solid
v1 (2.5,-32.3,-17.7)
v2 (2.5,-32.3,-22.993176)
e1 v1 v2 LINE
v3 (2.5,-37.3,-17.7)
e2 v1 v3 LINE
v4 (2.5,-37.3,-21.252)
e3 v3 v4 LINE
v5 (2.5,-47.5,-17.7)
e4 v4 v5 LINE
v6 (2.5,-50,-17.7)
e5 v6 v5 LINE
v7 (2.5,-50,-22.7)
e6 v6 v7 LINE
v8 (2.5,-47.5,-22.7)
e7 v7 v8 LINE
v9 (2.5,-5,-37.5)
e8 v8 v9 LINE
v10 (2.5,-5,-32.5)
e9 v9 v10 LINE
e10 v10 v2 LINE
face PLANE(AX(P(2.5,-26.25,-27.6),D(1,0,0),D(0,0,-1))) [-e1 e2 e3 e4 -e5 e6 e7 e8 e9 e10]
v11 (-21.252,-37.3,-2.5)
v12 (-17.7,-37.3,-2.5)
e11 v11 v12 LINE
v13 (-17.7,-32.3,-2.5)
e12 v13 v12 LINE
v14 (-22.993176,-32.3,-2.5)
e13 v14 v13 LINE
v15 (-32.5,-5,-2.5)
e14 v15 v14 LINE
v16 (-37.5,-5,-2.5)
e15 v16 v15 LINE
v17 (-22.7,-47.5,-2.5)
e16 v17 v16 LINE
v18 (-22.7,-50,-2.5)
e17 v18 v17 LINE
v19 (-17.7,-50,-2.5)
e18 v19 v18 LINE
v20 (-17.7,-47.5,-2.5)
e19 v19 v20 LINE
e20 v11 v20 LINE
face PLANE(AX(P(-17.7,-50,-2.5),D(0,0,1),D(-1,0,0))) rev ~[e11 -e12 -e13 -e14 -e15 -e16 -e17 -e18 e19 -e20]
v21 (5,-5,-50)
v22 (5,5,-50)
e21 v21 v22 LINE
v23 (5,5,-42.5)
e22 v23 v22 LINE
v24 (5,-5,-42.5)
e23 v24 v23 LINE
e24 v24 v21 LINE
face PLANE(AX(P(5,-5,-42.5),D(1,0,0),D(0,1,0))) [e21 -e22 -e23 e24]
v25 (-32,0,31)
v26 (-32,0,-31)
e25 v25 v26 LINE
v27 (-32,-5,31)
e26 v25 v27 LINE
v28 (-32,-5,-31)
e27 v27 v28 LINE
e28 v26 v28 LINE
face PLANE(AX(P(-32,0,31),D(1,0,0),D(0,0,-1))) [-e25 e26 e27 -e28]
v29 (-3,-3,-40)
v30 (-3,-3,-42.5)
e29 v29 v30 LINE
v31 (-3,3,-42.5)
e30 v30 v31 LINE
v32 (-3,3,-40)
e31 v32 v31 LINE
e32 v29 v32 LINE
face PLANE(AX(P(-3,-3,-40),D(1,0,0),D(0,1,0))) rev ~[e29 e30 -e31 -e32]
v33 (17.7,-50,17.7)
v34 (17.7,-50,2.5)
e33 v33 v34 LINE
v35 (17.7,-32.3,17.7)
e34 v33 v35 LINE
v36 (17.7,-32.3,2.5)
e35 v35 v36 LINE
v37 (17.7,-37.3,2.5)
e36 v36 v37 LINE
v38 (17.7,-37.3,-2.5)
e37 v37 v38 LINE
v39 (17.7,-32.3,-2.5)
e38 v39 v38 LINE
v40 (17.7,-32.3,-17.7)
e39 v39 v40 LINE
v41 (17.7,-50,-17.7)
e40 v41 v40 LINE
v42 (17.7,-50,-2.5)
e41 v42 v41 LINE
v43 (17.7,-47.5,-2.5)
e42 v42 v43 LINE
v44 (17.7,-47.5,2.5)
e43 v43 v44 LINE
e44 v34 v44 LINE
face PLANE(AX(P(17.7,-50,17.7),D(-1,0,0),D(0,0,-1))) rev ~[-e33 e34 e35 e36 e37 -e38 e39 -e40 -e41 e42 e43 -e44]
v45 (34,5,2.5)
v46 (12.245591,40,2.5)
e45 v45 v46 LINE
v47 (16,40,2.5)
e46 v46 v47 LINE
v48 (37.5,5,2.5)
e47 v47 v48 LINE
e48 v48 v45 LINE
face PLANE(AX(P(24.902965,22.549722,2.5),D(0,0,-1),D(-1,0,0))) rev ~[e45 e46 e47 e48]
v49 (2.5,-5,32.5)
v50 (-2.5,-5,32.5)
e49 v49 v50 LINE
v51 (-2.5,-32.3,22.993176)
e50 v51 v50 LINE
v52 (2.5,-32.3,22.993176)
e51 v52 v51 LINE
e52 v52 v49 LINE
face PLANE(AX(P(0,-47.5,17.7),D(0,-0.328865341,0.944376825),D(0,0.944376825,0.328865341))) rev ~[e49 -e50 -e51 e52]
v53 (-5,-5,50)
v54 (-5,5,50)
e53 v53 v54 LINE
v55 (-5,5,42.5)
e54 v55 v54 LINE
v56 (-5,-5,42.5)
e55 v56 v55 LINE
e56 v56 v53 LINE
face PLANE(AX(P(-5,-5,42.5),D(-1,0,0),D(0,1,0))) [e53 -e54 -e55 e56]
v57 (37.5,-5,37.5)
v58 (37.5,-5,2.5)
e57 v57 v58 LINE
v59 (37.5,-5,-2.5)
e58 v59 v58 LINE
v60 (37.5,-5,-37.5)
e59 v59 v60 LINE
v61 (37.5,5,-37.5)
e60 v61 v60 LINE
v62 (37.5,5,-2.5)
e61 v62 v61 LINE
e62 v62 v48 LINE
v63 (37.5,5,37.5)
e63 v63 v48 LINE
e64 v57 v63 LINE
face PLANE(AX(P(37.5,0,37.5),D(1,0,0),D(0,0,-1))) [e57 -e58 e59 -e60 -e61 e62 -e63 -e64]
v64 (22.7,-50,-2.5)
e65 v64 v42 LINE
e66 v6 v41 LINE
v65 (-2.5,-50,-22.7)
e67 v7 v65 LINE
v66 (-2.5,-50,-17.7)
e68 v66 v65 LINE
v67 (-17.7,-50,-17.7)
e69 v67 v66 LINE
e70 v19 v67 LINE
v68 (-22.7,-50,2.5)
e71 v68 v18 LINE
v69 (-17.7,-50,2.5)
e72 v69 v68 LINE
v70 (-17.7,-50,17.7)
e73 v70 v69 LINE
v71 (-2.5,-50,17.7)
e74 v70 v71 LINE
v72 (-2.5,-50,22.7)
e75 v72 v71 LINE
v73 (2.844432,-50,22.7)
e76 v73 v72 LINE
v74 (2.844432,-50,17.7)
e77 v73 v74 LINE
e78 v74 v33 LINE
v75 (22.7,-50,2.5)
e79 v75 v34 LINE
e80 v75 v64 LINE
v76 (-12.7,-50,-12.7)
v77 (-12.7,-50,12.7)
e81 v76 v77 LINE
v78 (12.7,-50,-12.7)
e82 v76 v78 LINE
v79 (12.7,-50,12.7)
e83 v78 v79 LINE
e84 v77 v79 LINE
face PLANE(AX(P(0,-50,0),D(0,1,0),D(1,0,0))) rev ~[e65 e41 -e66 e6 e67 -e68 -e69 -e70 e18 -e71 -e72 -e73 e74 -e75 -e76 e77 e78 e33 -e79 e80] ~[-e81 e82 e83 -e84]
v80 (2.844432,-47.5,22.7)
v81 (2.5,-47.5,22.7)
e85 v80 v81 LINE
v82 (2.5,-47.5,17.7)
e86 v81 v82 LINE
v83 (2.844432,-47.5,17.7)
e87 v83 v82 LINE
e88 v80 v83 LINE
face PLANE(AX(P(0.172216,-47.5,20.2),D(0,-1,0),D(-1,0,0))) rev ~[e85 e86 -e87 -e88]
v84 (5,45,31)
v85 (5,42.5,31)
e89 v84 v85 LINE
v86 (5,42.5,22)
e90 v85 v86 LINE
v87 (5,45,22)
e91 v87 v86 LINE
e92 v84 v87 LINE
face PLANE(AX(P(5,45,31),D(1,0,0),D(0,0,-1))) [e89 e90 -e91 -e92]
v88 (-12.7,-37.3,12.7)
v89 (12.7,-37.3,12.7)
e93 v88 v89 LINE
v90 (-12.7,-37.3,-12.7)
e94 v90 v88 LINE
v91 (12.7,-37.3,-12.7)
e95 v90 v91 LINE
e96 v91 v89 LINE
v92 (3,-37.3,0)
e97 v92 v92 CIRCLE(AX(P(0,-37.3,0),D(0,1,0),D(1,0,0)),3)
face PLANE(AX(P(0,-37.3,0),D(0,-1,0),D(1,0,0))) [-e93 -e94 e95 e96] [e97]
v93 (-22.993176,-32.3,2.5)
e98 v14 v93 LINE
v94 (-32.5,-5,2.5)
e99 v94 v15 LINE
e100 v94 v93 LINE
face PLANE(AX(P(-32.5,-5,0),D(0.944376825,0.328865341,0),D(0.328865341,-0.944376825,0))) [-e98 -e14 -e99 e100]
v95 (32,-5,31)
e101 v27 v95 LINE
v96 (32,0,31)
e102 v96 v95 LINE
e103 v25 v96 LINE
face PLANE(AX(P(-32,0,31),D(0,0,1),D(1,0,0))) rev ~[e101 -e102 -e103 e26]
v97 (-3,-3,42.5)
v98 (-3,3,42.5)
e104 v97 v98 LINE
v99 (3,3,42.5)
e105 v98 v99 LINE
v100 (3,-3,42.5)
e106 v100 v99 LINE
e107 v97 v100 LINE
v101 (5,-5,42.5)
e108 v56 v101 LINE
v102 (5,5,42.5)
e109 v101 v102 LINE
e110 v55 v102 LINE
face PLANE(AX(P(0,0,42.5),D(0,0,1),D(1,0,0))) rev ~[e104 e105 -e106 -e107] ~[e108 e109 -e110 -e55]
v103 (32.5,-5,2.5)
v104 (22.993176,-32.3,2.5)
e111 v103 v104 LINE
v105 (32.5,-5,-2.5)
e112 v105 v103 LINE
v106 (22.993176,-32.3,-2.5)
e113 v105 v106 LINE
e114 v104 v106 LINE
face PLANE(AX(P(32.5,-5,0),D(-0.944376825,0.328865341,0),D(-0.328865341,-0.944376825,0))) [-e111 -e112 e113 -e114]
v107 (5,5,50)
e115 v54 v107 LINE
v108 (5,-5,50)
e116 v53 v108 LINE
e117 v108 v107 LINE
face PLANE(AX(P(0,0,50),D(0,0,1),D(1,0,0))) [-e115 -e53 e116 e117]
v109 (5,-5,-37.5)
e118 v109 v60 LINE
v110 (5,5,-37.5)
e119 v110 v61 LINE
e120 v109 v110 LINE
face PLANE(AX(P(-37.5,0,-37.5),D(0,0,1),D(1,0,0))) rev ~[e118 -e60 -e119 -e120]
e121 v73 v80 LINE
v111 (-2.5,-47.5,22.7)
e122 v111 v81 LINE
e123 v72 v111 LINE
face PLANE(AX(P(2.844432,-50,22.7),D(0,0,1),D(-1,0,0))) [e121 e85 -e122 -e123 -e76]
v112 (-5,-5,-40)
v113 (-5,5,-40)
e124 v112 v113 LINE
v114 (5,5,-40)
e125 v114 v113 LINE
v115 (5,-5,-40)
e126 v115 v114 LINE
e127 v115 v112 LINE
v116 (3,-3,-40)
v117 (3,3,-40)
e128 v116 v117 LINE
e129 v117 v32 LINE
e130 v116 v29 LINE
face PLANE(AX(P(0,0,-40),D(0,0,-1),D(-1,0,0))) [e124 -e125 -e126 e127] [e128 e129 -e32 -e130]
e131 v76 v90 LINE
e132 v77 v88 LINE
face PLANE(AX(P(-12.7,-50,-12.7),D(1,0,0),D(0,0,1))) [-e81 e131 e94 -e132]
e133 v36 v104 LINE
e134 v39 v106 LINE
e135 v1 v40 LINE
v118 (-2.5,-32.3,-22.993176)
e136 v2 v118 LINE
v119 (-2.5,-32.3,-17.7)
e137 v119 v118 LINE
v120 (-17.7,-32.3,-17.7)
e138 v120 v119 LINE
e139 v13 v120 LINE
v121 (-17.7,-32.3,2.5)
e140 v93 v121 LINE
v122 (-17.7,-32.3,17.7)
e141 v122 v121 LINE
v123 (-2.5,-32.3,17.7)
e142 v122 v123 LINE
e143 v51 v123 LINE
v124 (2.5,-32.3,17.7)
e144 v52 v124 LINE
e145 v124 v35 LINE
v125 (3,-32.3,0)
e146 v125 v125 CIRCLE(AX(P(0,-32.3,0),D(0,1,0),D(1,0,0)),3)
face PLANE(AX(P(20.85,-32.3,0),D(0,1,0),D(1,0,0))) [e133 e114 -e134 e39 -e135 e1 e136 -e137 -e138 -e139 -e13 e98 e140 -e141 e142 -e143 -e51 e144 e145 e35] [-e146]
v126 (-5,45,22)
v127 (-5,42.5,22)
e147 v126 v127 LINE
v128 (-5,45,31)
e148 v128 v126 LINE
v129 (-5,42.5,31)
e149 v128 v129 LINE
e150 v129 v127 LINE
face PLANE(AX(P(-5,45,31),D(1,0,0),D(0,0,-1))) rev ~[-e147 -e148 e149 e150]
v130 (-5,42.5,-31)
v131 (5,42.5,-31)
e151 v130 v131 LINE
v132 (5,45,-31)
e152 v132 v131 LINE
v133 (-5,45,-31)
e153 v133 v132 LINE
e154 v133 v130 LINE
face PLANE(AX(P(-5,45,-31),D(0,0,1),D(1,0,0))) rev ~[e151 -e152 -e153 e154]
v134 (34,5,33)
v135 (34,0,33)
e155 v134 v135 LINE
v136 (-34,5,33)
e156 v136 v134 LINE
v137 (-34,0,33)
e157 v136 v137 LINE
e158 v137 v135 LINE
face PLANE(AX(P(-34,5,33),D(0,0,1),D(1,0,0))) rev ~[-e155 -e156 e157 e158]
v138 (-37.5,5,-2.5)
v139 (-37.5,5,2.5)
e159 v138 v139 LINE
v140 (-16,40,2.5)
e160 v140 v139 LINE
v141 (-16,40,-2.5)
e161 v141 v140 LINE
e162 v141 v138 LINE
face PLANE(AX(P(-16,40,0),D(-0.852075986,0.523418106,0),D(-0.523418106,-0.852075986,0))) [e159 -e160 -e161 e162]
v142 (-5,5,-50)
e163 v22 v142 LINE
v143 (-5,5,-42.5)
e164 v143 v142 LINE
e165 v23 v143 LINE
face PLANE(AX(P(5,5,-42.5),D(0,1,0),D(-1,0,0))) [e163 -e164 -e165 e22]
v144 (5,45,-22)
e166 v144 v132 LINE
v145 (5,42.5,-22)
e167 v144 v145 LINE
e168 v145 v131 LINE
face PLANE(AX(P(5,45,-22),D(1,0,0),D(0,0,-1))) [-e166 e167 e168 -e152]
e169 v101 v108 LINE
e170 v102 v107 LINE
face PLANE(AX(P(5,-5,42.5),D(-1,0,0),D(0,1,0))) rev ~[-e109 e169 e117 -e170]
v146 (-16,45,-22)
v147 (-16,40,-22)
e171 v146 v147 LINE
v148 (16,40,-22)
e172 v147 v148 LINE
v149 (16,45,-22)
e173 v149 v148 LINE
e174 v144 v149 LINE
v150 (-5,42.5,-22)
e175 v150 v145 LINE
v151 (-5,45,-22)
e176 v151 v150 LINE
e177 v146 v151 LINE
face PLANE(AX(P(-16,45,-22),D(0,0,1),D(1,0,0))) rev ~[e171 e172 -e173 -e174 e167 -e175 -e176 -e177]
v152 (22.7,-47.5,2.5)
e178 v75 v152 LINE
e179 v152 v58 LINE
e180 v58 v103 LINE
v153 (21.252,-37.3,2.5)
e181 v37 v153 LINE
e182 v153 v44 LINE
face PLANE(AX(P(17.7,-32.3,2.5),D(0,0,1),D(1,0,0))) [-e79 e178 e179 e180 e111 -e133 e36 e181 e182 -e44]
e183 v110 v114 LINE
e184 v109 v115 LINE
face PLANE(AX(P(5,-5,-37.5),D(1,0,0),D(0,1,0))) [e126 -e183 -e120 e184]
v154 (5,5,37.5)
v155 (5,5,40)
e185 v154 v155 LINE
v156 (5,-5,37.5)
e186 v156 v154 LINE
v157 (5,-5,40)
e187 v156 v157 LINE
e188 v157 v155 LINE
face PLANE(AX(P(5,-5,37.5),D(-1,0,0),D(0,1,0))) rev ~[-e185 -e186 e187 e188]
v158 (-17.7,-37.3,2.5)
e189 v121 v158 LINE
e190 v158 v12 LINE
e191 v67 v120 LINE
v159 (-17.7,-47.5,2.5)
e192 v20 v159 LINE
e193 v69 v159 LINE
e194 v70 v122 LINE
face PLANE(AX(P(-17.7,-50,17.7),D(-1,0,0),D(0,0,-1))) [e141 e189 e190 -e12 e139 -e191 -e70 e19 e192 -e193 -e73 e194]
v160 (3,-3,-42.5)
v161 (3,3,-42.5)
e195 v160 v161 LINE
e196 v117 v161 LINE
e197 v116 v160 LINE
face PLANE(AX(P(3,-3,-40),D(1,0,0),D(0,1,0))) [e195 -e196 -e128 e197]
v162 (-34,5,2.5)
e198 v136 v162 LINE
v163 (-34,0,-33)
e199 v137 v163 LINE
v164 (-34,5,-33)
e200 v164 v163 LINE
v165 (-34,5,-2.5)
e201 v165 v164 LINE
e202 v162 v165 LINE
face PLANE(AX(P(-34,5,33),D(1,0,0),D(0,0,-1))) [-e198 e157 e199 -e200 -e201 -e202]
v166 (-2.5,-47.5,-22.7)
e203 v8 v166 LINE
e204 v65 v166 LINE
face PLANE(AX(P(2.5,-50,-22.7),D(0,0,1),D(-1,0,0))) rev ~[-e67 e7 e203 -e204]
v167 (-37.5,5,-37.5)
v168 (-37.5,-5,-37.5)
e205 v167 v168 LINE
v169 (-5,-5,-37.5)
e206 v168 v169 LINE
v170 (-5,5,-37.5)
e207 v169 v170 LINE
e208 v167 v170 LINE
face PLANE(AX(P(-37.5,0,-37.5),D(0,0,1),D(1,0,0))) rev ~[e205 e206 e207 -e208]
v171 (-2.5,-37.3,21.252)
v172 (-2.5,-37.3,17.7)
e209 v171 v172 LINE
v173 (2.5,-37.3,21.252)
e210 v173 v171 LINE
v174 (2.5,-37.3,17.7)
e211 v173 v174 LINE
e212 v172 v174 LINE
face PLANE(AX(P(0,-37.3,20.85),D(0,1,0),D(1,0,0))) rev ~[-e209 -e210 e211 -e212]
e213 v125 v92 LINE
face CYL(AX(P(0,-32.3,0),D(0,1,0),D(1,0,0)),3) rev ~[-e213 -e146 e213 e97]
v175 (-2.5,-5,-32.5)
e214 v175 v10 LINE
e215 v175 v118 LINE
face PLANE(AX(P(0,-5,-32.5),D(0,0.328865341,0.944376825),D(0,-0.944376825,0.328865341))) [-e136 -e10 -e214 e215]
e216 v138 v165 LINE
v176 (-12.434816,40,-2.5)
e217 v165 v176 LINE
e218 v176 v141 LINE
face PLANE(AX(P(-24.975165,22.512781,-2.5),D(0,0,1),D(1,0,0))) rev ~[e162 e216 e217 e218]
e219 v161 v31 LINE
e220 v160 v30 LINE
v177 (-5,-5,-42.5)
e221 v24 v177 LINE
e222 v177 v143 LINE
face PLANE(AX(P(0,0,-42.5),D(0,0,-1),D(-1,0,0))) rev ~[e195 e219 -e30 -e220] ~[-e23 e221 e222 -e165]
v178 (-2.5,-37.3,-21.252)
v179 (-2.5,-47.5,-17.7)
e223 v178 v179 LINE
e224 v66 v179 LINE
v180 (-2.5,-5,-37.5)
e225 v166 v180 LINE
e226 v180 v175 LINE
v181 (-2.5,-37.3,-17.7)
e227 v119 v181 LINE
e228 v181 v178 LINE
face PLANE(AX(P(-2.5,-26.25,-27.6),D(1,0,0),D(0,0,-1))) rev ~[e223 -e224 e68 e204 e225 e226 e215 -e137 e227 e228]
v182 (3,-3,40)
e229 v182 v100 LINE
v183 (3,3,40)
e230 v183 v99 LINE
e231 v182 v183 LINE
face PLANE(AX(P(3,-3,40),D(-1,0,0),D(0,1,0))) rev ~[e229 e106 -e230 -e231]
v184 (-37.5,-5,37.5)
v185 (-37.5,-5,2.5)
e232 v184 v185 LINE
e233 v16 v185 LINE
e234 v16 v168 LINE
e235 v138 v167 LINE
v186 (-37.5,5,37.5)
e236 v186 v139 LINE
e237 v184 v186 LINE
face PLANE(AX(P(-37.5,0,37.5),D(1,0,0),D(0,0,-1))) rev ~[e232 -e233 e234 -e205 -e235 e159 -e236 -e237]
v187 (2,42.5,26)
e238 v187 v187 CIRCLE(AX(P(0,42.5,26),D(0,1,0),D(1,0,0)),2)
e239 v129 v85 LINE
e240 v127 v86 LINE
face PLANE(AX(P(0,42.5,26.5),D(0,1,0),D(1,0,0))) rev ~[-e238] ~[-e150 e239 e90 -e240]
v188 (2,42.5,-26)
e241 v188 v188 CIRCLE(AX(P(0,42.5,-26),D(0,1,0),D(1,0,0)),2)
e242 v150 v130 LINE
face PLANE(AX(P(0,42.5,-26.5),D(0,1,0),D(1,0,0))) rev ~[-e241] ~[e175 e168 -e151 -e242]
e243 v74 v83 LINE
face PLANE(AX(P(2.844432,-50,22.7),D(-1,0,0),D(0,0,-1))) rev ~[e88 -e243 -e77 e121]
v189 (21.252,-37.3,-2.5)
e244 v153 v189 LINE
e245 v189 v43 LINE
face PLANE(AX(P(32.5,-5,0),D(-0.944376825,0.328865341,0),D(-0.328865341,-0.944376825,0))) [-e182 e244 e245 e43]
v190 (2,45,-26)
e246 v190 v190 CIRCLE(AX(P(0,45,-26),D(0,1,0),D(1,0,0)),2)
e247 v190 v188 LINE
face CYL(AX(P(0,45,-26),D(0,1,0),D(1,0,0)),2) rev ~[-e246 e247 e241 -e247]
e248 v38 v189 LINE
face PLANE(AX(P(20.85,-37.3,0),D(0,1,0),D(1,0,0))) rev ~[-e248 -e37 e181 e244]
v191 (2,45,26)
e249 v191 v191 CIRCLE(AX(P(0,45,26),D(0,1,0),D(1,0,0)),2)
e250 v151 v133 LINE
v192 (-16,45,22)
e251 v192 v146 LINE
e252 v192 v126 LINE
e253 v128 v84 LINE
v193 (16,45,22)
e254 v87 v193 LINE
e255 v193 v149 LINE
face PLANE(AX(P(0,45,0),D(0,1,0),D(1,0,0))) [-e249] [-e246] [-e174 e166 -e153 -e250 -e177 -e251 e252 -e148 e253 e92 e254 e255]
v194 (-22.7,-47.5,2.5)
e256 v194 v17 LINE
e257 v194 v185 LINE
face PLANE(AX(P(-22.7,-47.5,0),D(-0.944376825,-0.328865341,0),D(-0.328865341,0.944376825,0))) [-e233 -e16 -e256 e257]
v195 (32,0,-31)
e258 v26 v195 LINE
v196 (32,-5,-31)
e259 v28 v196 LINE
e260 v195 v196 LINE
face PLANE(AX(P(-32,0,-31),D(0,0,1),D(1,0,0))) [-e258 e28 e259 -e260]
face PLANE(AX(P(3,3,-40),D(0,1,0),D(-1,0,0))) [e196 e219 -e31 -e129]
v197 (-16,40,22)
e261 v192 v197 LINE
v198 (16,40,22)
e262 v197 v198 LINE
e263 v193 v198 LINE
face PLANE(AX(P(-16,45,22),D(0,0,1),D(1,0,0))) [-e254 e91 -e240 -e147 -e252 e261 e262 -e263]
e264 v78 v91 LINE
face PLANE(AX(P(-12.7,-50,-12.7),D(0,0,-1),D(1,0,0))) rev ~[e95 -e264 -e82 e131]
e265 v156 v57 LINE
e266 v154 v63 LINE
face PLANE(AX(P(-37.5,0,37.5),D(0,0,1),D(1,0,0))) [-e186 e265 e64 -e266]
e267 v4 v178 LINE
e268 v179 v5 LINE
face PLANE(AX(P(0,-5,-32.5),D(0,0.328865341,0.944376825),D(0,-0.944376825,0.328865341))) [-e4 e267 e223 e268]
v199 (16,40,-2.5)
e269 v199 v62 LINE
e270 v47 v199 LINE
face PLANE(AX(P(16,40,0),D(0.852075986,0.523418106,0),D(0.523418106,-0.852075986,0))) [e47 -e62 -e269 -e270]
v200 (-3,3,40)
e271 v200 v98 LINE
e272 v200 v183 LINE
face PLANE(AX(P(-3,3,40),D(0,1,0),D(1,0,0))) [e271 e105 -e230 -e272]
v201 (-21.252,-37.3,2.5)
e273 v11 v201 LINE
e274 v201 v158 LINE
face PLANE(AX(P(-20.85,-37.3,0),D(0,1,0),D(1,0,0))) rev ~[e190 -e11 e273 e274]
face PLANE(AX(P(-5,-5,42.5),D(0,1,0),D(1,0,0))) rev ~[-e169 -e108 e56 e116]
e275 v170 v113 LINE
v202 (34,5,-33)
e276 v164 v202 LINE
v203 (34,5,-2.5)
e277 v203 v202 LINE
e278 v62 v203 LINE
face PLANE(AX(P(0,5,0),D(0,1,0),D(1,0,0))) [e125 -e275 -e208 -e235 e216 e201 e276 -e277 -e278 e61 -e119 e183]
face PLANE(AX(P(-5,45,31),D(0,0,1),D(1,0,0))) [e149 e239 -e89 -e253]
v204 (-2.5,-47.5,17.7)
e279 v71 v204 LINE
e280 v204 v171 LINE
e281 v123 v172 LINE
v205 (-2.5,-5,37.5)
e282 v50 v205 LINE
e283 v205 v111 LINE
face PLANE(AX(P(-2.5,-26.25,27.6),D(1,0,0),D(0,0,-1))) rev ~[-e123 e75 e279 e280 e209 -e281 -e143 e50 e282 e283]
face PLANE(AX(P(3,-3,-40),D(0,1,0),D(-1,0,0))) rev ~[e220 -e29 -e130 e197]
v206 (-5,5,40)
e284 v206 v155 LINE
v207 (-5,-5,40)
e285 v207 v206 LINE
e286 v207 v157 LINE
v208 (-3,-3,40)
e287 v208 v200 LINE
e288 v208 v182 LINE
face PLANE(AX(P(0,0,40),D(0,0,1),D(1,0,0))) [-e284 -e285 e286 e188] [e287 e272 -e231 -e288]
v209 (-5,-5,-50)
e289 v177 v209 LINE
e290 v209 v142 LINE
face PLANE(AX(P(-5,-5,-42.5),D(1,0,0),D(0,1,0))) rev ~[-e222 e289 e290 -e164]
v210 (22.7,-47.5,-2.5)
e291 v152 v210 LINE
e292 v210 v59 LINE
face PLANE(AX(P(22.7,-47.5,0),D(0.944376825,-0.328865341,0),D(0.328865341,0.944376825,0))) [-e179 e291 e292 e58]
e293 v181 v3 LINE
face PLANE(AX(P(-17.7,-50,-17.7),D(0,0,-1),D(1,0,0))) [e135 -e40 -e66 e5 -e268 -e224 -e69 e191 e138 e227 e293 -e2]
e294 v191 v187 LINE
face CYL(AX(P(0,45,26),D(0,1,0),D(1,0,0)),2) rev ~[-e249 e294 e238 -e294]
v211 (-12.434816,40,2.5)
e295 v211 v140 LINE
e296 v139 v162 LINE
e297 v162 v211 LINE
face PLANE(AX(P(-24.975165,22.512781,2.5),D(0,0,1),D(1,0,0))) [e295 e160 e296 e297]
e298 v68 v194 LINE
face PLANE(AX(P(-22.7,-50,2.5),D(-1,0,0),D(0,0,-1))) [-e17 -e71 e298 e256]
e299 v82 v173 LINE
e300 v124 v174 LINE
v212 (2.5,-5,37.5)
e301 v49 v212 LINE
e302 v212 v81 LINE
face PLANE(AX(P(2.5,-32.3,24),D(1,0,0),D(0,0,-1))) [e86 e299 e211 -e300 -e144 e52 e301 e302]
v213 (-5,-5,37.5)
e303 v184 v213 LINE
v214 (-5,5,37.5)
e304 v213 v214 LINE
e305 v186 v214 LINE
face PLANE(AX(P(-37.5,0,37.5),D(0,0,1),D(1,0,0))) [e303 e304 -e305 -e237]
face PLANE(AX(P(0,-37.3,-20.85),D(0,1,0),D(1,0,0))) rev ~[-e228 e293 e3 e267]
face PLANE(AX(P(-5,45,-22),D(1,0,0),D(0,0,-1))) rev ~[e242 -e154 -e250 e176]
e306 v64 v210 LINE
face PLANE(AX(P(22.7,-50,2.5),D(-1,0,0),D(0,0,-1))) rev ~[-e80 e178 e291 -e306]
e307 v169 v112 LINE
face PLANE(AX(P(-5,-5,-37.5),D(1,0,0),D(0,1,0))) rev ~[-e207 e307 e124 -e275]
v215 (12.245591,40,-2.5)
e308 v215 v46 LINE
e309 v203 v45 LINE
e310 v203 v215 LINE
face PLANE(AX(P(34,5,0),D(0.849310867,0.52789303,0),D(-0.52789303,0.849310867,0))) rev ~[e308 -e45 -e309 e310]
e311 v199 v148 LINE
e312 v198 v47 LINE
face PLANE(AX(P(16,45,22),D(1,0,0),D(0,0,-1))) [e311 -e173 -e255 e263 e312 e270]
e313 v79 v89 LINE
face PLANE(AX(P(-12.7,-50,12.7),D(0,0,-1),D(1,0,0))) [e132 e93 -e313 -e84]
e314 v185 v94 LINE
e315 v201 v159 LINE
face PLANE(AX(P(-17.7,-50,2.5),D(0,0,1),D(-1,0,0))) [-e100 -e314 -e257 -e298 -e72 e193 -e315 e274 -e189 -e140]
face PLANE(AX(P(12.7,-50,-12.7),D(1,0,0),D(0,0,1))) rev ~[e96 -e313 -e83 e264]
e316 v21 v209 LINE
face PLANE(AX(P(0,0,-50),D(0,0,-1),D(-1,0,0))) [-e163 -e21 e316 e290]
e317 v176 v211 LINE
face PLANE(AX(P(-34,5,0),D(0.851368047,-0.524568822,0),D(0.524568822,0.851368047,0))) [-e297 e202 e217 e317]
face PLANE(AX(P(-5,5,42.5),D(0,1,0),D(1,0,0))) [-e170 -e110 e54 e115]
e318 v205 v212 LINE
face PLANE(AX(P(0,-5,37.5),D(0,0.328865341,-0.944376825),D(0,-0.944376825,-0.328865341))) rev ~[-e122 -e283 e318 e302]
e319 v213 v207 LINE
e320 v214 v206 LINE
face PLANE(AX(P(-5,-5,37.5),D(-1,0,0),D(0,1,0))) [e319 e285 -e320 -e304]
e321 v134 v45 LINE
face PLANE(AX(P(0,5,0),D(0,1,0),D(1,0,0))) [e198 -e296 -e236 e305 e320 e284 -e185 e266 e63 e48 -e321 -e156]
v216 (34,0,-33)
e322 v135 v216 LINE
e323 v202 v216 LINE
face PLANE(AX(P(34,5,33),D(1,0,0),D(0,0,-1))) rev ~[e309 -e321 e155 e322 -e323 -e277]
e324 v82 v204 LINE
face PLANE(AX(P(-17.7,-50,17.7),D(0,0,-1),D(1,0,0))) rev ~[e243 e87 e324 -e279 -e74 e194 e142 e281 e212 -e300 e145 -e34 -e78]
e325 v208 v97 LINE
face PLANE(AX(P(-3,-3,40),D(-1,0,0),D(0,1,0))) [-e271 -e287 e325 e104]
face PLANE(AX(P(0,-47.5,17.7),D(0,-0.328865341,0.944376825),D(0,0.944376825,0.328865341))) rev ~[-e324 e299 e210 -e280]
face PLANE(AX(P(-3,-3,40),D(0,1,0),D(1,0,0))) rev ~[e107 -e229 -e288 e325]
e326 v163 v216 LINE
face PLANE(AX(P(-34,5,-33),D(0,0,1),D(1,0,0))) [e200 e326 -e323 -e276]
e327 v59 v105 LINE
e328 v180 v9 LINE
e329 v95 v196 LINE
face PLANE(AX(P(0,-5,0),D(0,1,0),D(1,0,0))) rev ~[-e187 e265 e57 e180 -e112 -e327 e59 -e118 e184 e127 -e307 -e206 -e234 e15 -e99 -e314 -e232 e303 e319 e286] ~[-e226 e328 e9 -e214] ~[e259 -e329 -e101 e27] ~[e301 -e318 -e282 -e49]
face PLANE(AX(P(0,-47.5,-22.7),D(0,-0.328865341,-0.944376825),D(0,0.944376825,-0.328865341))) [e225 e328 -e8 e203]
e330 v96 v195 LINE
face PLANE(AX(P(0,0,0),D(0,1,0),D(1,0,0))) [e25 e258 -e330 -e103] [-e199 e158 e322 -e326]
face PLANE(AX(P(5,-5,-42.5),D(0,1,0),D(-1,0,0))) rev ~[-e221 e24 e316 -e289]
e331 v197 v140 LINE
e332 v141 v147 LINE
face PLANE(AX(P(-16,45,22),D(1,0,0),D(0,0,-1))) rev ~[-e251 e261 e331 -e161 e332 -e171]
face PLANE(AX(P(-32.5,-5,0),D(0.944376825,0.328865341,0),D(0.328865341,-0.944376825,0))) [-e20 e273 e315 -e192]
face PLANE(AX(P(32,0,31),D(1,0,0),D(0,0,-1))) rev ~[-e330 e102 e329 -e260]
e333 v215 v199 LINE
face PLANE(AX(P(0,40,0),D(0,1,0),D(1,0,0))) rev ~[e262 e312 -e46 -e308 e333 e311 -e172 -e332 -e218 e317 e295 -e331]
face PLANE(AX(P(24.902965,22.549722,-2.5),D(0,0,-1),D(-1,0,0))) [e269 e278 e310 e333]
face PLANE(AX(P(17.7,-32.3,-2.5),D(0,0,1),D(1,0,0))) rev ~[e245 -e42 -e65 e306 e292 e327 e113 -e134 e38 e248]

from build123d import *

# Parameters (mm, degrees)
SKETCH2_W                   = 75
SKETCH2_H                   = 75
BOSS_EXTRUDE1_DEPTH         = 5
SKETCH2_2_W                 = 75
SKETCH2_2_H                 = 75
BOSS_EXTRUDE2_DEPTH         = 5
SKETCH4_W                   = 68
SKETCH4_H                   = 66
CUT_EXTRUDE1_DEPTH          = 5
SKETCH5_W                   = 64
SKETCH5_H                   = 62
CUT_EXTRUDE2_DEPTH          = 5
SKETCH6_W                   = 10
SKETCH6_H                   = 10
BOSS_EXTRUDE3_DEPTH         = 2.5
SKETCH7_W                   = 6
SKETCH7_H                   = 6
BOSS_EXTRUDE4_DEPTH         = 2.5
SKETCH8_W                   = 10
SKETCH8_H                   = 10
BOSS_EXTRUDE5_DEPTH         = 7.5
SKETCH9_W                   = 10
SKETCH9_H                   = 10
BOSS_EXTRUDE6_DEPTH         = 2.5
SKETCH10_W                  = 6
SKETCH10_H                  = 6
BOSS_EXTRUDE7_DEPTH         = 2.5
SKETCH11_W                  = 10
SKETCH11_H                  = 10
BOSS_EXTRUDE8_DEPTH         = 7.5
SKETCH14_W                  = 35.4
SKETCH14_H                  = 35.4
BOSS_EXTRUDE9_DEPTH         = 17.7
SKETCH15_W                  = 25.4
SKETCH15_H                  = 25.4
CUT_EXTRUDE3_DEPTH          = 12.7
SKETCH32_R                  = 3
CUT_EXTRUDE6_DEPTH          = 5
SKETCH16_W                  = 32
SKETCH16_H                  = 44
BOSS_EXTRUDE10_DEPTH        = 5
SKETCH18_W                  = 10
SKETCH18_H                  = 9
BOSS_EXTRUDE12_DEPTH        = 2.5
BOSS_EXTRUDE13_DEPTH        = 2.5
BOSS_EXTRUDE14_DEPTH        = 2.5
SKETCH31_R                  = 2
CHARGER_SUPPORT_HOLES_DEPTH = 2.5
SKETCH27_W                  = 5
SKETCH27_H                  = 5
SKETCH27_W_2                = 5.344431893
EYEBOLT_BOLT_SUPPORTS_DEPTH = 2.5
BOSS_EXTRUDE15_DEPTH        = 2.5
BOSS_EXTRUDE16_DEPTH        = 2.5
BOSS_EXTRUDE17_DEPTH        = 2.5
BOSS_EXTRUDE18_DEPTH        = 2.5
SKETCH33_W                  = 6.3
SKETCH33_H                  = 5
SKETCH33_W_2                = 5
SKETCH33_H_2                = 6.3
EYEBOLT_MINI_SUPPORTS_DEPTH = 5


with BuildPart() as part:
    # Sketch2 → Boss-Extrude1 (new body)
    with BuildSketch(Plane(origin=(0, 0, 0), x_dir=(1, 0, 0), z_dir=(0, 1, 0))):
        Rectangle(SKETCH2_W, SKETCH2_H)
    extrude(amount=BOSS_EXTRUDE1_DEPTH)

    # Sketch2<2> → Boss-Extrude2 (add)
    with BuildSketch(Plane(origin=(0, 0, 0), x_dir=(1, 0, 0), z_dir=(0, 1, 0))):
        Rectangle(SKETCH2_2_W, SKETCH2_2_H)
    extrude(amount=-BOSS_EXTRUDE2_DEPTH)

    # Sketch4 → Cut-Extrude1 (cut)
    with BuildSketch(Plane(origin=(0, 5, 0), x_dir=(1, 0, 0), z_dir=(0, 1, 0))):
        Rectangle(SKETCH4_W, SKETCH4_H)
    extrude(amount=-CUT_EXTRUDE1_DEPTH, mode=Mode.SUBTRACT)

    # Sketch5 → Cut-Extrude2 (cut)
    with BuildSketch(Plane(origin=(0, 0, 0), x_dir=(1, 0, 0), z_dir=(0, 1, 0))):
        Rectangle(SKETCH5_W, SKETCH5_H)
    extrude(amount=-CUT_EXTRUDE2_DEPTH, mode=Mode.SUBTRACT)

    # Sketch6 → Boss-Extrude3 (add)
    with BuildSketch(Plane.XY.offset(37.5)):
        Rectangle(SKETCH6_W, SKETCH6_H)
    extrude(amount=BOSS_EXTRUDE3_DEPTH)

    # Sketch7 → Boss-Extrude4 (add)
    with BuildSketch(Plane.XY.offset(40)):
        Rectangle(SKETCH7_W, SKETCH7_H)
    extrude(amount=BOSS_EXTRUDE4_DEPTH)

    # Sketch8 → Boss-Extrude5 (add)
    with BuildSketch(Plane.XY.offset(42.5)):
        Rectangle(SKETCH8_W, SKETCH8_H)
    extrude(amount=BOSS_EXTRUDE5_DEPTH)

    # Sketch9 → Boss-Extrude6 (add)
    with BuildSketch(Plane(origin=(0, 0, -37.5), x_dir=(-1, 0, 0), z_dir=(0, 0, -1))):
        Rectangle(SKETCH9_W, SKETCH9_H)
    extrude(amount=BOSS_EXTRUDE6_DEPTH)

    # Sketch10 → Boss-Extrude7 (add)
    with BuildSketch(Plane(origin=(0, 0, -40), x_dir=(-1, 0, 0), z_dir=(0, 0, -1))):
        Rectangle(SKETCH10_W, SKETCH10_H)
    extrude(amount=BOSS_EXTRUDE7_DEPTH)

    # Sketch11 → Boss-Extrude8 (add)
    with BuildSketch(Plane(origin=(0, 0, -42.5), x_dir=(-1, 0, 0), z_dir=(0, 0, -1))):
        Rectangle(SKETCH11_W, SKETCH11_H)
    extrude(amount=BOSS_EXTRUDE8_DEPTH)



with BuildPart() as body_2:
    # Sketch14 → Boss-Extrude9 (new body)
    with BuildSketch(Plane(origin=(0, -50, 0), x_dir=(1, 0, 0), z_dir=(0, 1, 0))):
        Rectangle(SKETCH14_W, SKETCH14_H)
    extrude(amount=BOSS_EXTRUDE9_DEPTH)

    # Sketch15 → Cut-Extrude3 (cut)
    with BuildSketch(Plane.XZ.offset(50)):
        Rectangle(SKETCH15_W, SKETCH15_H)
    extrude(amount=-CUT_EXTRUDE3_DEPTH, mode=Mode.SUBTRACT)

    # Sketch32 → Cut-Extrude6 (cut)
    with BuildSketch(Plane(origin=(0, -32.3, 0), x_dir=(1, 0, 0), z_dir=(0, 1, 0))):
        Circle(SKETCH32_R)
    extrude(amount=-CUT_EXTRUDE6_DEPTH, mode=Mode.SUBTRACT)

    # Sketch27 → Eyebolt Bolt Supports (add)
    with BuildSketch(Plane(origin=(0, -50, 0), x_dir=(-1, 0, 0), z_dir=(0, -1, 0))):
        with Locations((-20.2, 0)):
            Rectangle(SKETCH27_W, SKETCH27_H)
        with Locations((20.2, 0)):
            Rectangle(SKETCH27_W, SKETCH27_H)
        with Locations((-0.172215947, -20.2)):
            Rectangle(SKETCH27_W_2, SKETCH27_H)
        with Locations((0, 20.2)):
            Rectangle(SKETCH27_W, SKETCH27_H)
    extrude(amount=-EYEBOLT_BOLT_SUPPORTS_DEPTH)


with BuildPart() as body_3:
    # Sketch16 → Boss-Extrude10 (new body)
    with BuildSketch(Plane(origin=(0, 45, 0), x_dir=(1, 0, 0), z_dir=(0, 1, 0))):
        Rectangle(SKETCH16_W, SKETCH16_H)
    extrude(amount=-BOSS_EXTRUDE10_DEPTH)

    # Sketch18 → Boss-Extrude12 (add)
    with BuildSketch(Plane(origin=(0, 45, 0), x_dir=(1, 0, 0), z_dir=(0, 1, 0))):
        with Locations((0, 26.5)):
            Rectangle(SKETCH18_W, SKETCH18_H)
        with Locations((0, -26.5)):
            Rectangle(SKETCH18_W, SKETCH18_H)
    extrude(amount=-BOSS_EXTRUDE12_DEPTH)


with BuildPart() as part_1:
    add(part.part)

    add(body_3.part)  # Boss-Extrude13 merges body 3
    # Sketch21 → Boss-Extrude13 (add)
    with BuildSketch(Plane.XY):
        Polygon((-37.5, 5), (-34, 5), (-12.434815796, 40), (-16, 40), align=None)
        Polygon((37.5, 5), (34, 5), (12.245590879, 40), (16, 40), align=None)
    extrude(amount=BOSS_EXTRUDE13_DEPTH)

    # Sketch21<2> → Boss-Extrude14 (add)
    with BuildSketch(Plane.XY):
        Polygon((-37.5, 5), (-34, 5), (-12.434815796, 40), (-16, 40), align=None)
        Polygon((37.5, 5), (34, 5), (12.245590879, 40), (16, 40), align=None)
    extrude(amount=-BOSS_EXTRUDE14_DEPTH)

    # Sketch31 → Charger Support Holes (cut)
    with BuildSketch(Plane(origin=(0, 45, 0), x_dir=(1, 0, 0), z_dir=(0, 1, 0))):
        with Locations((0, 26)):
            Circle(SKETCH31_R)
        with Locations((0, -26)):
            Circle(SKETCH31_R)
    extrude(amount=-CHARGER_SUPPORT_HOLES_DEPTH, mode=Mode.SUBTRACT)


    add(body_2.part)  # Boss-Extrude15 merges body 2
    # Sketch28 → Boss-Extrude15 (add)
    with BuildSketch(Plane.XY):
        Polygon((22.7, -47.5), (37.5, -5), (32.5, -5), (17.7, -47.5), align=None)
        Polygon((-22.7, -47.5), (-37.5, -5), (-32.5, -5), (-17.7, -47.5), align=None)
    extrude(amount=BOSS_EXTRUDE15_DEPTH)

    # Sketch28<2> → Boss-Extrude16 (add)
    with BuildSketch(Plane.XY):
        Polygon((22.7, -47.5), (37.5, -5), (32.5, -5), (17.7, -47.5), align=None)
        Polygon((-22.7, -47.5), (-37.5, -5), (-32.5, -5), (-17.7, -47.5), align=None)
    extrude(amount=-BOSS_EXTRUDE16_DEPTH)

    # Sketch30 → Boss-Extrude17 (add)
    with BuildSketch(Plane(origin=(0, 0, 0), x_dir=(0, 0, -1), z_dir=(1, 0, 0))):
        Polygon((22.7, -47.5), (37.5, -5), (32.5, -5), (17.7, -47.5), align=None)
        Polygon((-37.5, -5), (-22.7, -47.5), (-17.7, -47.5), (-32.5, -5), align=None)
    extrude(amount=BOSS_EXTRUDE17_DEPTH)

    # Sketch30<2> → Boss-Extrude18 (add)
    with BuildSketch(Plane(origin=(0, 0, 0), x_dir=(0, 0, -1), z_dir=(1, 0, 0))):
        Polygon((22.7, -47.5), (37.5, -5), (32.5, -5), (17.7, -47.5), align=None)
        Polygon((-37.5, -5), (-22.7, -47.5), (-17.7, -47.5), (-32.5, -5), align=None)
    extrude(amount=-BOSS_EXTRUDE18_DEPTH)

    # Sketch33 → Eyebolt Mini Supports (add)
    with BuildSketch(Plane(origin=(0, -32.3, 0), x_dir=(1, 0, 0), z_dir=(0, 1, 0))):
        with Locations((20.85, 0)):
            Rectangle(SKETCH33_W, SKETCH33_H)
        with Locations((0, 20.85)):
            Rectangle(SKETCH33_W_2, SKETCH33_H_2)
        with Locations((-20.85, 0)):
            Rectangle(SKETCH33_W, SKETCH33_H)
        with Locations((0, -20.85)):
            Rectangle(SKETCH33_W_2, SKETCH33_H_2)
    extrude(amount=-EYEBOLT_MINI_SUPPORTS_DEPTH)


solid = part_1.part
